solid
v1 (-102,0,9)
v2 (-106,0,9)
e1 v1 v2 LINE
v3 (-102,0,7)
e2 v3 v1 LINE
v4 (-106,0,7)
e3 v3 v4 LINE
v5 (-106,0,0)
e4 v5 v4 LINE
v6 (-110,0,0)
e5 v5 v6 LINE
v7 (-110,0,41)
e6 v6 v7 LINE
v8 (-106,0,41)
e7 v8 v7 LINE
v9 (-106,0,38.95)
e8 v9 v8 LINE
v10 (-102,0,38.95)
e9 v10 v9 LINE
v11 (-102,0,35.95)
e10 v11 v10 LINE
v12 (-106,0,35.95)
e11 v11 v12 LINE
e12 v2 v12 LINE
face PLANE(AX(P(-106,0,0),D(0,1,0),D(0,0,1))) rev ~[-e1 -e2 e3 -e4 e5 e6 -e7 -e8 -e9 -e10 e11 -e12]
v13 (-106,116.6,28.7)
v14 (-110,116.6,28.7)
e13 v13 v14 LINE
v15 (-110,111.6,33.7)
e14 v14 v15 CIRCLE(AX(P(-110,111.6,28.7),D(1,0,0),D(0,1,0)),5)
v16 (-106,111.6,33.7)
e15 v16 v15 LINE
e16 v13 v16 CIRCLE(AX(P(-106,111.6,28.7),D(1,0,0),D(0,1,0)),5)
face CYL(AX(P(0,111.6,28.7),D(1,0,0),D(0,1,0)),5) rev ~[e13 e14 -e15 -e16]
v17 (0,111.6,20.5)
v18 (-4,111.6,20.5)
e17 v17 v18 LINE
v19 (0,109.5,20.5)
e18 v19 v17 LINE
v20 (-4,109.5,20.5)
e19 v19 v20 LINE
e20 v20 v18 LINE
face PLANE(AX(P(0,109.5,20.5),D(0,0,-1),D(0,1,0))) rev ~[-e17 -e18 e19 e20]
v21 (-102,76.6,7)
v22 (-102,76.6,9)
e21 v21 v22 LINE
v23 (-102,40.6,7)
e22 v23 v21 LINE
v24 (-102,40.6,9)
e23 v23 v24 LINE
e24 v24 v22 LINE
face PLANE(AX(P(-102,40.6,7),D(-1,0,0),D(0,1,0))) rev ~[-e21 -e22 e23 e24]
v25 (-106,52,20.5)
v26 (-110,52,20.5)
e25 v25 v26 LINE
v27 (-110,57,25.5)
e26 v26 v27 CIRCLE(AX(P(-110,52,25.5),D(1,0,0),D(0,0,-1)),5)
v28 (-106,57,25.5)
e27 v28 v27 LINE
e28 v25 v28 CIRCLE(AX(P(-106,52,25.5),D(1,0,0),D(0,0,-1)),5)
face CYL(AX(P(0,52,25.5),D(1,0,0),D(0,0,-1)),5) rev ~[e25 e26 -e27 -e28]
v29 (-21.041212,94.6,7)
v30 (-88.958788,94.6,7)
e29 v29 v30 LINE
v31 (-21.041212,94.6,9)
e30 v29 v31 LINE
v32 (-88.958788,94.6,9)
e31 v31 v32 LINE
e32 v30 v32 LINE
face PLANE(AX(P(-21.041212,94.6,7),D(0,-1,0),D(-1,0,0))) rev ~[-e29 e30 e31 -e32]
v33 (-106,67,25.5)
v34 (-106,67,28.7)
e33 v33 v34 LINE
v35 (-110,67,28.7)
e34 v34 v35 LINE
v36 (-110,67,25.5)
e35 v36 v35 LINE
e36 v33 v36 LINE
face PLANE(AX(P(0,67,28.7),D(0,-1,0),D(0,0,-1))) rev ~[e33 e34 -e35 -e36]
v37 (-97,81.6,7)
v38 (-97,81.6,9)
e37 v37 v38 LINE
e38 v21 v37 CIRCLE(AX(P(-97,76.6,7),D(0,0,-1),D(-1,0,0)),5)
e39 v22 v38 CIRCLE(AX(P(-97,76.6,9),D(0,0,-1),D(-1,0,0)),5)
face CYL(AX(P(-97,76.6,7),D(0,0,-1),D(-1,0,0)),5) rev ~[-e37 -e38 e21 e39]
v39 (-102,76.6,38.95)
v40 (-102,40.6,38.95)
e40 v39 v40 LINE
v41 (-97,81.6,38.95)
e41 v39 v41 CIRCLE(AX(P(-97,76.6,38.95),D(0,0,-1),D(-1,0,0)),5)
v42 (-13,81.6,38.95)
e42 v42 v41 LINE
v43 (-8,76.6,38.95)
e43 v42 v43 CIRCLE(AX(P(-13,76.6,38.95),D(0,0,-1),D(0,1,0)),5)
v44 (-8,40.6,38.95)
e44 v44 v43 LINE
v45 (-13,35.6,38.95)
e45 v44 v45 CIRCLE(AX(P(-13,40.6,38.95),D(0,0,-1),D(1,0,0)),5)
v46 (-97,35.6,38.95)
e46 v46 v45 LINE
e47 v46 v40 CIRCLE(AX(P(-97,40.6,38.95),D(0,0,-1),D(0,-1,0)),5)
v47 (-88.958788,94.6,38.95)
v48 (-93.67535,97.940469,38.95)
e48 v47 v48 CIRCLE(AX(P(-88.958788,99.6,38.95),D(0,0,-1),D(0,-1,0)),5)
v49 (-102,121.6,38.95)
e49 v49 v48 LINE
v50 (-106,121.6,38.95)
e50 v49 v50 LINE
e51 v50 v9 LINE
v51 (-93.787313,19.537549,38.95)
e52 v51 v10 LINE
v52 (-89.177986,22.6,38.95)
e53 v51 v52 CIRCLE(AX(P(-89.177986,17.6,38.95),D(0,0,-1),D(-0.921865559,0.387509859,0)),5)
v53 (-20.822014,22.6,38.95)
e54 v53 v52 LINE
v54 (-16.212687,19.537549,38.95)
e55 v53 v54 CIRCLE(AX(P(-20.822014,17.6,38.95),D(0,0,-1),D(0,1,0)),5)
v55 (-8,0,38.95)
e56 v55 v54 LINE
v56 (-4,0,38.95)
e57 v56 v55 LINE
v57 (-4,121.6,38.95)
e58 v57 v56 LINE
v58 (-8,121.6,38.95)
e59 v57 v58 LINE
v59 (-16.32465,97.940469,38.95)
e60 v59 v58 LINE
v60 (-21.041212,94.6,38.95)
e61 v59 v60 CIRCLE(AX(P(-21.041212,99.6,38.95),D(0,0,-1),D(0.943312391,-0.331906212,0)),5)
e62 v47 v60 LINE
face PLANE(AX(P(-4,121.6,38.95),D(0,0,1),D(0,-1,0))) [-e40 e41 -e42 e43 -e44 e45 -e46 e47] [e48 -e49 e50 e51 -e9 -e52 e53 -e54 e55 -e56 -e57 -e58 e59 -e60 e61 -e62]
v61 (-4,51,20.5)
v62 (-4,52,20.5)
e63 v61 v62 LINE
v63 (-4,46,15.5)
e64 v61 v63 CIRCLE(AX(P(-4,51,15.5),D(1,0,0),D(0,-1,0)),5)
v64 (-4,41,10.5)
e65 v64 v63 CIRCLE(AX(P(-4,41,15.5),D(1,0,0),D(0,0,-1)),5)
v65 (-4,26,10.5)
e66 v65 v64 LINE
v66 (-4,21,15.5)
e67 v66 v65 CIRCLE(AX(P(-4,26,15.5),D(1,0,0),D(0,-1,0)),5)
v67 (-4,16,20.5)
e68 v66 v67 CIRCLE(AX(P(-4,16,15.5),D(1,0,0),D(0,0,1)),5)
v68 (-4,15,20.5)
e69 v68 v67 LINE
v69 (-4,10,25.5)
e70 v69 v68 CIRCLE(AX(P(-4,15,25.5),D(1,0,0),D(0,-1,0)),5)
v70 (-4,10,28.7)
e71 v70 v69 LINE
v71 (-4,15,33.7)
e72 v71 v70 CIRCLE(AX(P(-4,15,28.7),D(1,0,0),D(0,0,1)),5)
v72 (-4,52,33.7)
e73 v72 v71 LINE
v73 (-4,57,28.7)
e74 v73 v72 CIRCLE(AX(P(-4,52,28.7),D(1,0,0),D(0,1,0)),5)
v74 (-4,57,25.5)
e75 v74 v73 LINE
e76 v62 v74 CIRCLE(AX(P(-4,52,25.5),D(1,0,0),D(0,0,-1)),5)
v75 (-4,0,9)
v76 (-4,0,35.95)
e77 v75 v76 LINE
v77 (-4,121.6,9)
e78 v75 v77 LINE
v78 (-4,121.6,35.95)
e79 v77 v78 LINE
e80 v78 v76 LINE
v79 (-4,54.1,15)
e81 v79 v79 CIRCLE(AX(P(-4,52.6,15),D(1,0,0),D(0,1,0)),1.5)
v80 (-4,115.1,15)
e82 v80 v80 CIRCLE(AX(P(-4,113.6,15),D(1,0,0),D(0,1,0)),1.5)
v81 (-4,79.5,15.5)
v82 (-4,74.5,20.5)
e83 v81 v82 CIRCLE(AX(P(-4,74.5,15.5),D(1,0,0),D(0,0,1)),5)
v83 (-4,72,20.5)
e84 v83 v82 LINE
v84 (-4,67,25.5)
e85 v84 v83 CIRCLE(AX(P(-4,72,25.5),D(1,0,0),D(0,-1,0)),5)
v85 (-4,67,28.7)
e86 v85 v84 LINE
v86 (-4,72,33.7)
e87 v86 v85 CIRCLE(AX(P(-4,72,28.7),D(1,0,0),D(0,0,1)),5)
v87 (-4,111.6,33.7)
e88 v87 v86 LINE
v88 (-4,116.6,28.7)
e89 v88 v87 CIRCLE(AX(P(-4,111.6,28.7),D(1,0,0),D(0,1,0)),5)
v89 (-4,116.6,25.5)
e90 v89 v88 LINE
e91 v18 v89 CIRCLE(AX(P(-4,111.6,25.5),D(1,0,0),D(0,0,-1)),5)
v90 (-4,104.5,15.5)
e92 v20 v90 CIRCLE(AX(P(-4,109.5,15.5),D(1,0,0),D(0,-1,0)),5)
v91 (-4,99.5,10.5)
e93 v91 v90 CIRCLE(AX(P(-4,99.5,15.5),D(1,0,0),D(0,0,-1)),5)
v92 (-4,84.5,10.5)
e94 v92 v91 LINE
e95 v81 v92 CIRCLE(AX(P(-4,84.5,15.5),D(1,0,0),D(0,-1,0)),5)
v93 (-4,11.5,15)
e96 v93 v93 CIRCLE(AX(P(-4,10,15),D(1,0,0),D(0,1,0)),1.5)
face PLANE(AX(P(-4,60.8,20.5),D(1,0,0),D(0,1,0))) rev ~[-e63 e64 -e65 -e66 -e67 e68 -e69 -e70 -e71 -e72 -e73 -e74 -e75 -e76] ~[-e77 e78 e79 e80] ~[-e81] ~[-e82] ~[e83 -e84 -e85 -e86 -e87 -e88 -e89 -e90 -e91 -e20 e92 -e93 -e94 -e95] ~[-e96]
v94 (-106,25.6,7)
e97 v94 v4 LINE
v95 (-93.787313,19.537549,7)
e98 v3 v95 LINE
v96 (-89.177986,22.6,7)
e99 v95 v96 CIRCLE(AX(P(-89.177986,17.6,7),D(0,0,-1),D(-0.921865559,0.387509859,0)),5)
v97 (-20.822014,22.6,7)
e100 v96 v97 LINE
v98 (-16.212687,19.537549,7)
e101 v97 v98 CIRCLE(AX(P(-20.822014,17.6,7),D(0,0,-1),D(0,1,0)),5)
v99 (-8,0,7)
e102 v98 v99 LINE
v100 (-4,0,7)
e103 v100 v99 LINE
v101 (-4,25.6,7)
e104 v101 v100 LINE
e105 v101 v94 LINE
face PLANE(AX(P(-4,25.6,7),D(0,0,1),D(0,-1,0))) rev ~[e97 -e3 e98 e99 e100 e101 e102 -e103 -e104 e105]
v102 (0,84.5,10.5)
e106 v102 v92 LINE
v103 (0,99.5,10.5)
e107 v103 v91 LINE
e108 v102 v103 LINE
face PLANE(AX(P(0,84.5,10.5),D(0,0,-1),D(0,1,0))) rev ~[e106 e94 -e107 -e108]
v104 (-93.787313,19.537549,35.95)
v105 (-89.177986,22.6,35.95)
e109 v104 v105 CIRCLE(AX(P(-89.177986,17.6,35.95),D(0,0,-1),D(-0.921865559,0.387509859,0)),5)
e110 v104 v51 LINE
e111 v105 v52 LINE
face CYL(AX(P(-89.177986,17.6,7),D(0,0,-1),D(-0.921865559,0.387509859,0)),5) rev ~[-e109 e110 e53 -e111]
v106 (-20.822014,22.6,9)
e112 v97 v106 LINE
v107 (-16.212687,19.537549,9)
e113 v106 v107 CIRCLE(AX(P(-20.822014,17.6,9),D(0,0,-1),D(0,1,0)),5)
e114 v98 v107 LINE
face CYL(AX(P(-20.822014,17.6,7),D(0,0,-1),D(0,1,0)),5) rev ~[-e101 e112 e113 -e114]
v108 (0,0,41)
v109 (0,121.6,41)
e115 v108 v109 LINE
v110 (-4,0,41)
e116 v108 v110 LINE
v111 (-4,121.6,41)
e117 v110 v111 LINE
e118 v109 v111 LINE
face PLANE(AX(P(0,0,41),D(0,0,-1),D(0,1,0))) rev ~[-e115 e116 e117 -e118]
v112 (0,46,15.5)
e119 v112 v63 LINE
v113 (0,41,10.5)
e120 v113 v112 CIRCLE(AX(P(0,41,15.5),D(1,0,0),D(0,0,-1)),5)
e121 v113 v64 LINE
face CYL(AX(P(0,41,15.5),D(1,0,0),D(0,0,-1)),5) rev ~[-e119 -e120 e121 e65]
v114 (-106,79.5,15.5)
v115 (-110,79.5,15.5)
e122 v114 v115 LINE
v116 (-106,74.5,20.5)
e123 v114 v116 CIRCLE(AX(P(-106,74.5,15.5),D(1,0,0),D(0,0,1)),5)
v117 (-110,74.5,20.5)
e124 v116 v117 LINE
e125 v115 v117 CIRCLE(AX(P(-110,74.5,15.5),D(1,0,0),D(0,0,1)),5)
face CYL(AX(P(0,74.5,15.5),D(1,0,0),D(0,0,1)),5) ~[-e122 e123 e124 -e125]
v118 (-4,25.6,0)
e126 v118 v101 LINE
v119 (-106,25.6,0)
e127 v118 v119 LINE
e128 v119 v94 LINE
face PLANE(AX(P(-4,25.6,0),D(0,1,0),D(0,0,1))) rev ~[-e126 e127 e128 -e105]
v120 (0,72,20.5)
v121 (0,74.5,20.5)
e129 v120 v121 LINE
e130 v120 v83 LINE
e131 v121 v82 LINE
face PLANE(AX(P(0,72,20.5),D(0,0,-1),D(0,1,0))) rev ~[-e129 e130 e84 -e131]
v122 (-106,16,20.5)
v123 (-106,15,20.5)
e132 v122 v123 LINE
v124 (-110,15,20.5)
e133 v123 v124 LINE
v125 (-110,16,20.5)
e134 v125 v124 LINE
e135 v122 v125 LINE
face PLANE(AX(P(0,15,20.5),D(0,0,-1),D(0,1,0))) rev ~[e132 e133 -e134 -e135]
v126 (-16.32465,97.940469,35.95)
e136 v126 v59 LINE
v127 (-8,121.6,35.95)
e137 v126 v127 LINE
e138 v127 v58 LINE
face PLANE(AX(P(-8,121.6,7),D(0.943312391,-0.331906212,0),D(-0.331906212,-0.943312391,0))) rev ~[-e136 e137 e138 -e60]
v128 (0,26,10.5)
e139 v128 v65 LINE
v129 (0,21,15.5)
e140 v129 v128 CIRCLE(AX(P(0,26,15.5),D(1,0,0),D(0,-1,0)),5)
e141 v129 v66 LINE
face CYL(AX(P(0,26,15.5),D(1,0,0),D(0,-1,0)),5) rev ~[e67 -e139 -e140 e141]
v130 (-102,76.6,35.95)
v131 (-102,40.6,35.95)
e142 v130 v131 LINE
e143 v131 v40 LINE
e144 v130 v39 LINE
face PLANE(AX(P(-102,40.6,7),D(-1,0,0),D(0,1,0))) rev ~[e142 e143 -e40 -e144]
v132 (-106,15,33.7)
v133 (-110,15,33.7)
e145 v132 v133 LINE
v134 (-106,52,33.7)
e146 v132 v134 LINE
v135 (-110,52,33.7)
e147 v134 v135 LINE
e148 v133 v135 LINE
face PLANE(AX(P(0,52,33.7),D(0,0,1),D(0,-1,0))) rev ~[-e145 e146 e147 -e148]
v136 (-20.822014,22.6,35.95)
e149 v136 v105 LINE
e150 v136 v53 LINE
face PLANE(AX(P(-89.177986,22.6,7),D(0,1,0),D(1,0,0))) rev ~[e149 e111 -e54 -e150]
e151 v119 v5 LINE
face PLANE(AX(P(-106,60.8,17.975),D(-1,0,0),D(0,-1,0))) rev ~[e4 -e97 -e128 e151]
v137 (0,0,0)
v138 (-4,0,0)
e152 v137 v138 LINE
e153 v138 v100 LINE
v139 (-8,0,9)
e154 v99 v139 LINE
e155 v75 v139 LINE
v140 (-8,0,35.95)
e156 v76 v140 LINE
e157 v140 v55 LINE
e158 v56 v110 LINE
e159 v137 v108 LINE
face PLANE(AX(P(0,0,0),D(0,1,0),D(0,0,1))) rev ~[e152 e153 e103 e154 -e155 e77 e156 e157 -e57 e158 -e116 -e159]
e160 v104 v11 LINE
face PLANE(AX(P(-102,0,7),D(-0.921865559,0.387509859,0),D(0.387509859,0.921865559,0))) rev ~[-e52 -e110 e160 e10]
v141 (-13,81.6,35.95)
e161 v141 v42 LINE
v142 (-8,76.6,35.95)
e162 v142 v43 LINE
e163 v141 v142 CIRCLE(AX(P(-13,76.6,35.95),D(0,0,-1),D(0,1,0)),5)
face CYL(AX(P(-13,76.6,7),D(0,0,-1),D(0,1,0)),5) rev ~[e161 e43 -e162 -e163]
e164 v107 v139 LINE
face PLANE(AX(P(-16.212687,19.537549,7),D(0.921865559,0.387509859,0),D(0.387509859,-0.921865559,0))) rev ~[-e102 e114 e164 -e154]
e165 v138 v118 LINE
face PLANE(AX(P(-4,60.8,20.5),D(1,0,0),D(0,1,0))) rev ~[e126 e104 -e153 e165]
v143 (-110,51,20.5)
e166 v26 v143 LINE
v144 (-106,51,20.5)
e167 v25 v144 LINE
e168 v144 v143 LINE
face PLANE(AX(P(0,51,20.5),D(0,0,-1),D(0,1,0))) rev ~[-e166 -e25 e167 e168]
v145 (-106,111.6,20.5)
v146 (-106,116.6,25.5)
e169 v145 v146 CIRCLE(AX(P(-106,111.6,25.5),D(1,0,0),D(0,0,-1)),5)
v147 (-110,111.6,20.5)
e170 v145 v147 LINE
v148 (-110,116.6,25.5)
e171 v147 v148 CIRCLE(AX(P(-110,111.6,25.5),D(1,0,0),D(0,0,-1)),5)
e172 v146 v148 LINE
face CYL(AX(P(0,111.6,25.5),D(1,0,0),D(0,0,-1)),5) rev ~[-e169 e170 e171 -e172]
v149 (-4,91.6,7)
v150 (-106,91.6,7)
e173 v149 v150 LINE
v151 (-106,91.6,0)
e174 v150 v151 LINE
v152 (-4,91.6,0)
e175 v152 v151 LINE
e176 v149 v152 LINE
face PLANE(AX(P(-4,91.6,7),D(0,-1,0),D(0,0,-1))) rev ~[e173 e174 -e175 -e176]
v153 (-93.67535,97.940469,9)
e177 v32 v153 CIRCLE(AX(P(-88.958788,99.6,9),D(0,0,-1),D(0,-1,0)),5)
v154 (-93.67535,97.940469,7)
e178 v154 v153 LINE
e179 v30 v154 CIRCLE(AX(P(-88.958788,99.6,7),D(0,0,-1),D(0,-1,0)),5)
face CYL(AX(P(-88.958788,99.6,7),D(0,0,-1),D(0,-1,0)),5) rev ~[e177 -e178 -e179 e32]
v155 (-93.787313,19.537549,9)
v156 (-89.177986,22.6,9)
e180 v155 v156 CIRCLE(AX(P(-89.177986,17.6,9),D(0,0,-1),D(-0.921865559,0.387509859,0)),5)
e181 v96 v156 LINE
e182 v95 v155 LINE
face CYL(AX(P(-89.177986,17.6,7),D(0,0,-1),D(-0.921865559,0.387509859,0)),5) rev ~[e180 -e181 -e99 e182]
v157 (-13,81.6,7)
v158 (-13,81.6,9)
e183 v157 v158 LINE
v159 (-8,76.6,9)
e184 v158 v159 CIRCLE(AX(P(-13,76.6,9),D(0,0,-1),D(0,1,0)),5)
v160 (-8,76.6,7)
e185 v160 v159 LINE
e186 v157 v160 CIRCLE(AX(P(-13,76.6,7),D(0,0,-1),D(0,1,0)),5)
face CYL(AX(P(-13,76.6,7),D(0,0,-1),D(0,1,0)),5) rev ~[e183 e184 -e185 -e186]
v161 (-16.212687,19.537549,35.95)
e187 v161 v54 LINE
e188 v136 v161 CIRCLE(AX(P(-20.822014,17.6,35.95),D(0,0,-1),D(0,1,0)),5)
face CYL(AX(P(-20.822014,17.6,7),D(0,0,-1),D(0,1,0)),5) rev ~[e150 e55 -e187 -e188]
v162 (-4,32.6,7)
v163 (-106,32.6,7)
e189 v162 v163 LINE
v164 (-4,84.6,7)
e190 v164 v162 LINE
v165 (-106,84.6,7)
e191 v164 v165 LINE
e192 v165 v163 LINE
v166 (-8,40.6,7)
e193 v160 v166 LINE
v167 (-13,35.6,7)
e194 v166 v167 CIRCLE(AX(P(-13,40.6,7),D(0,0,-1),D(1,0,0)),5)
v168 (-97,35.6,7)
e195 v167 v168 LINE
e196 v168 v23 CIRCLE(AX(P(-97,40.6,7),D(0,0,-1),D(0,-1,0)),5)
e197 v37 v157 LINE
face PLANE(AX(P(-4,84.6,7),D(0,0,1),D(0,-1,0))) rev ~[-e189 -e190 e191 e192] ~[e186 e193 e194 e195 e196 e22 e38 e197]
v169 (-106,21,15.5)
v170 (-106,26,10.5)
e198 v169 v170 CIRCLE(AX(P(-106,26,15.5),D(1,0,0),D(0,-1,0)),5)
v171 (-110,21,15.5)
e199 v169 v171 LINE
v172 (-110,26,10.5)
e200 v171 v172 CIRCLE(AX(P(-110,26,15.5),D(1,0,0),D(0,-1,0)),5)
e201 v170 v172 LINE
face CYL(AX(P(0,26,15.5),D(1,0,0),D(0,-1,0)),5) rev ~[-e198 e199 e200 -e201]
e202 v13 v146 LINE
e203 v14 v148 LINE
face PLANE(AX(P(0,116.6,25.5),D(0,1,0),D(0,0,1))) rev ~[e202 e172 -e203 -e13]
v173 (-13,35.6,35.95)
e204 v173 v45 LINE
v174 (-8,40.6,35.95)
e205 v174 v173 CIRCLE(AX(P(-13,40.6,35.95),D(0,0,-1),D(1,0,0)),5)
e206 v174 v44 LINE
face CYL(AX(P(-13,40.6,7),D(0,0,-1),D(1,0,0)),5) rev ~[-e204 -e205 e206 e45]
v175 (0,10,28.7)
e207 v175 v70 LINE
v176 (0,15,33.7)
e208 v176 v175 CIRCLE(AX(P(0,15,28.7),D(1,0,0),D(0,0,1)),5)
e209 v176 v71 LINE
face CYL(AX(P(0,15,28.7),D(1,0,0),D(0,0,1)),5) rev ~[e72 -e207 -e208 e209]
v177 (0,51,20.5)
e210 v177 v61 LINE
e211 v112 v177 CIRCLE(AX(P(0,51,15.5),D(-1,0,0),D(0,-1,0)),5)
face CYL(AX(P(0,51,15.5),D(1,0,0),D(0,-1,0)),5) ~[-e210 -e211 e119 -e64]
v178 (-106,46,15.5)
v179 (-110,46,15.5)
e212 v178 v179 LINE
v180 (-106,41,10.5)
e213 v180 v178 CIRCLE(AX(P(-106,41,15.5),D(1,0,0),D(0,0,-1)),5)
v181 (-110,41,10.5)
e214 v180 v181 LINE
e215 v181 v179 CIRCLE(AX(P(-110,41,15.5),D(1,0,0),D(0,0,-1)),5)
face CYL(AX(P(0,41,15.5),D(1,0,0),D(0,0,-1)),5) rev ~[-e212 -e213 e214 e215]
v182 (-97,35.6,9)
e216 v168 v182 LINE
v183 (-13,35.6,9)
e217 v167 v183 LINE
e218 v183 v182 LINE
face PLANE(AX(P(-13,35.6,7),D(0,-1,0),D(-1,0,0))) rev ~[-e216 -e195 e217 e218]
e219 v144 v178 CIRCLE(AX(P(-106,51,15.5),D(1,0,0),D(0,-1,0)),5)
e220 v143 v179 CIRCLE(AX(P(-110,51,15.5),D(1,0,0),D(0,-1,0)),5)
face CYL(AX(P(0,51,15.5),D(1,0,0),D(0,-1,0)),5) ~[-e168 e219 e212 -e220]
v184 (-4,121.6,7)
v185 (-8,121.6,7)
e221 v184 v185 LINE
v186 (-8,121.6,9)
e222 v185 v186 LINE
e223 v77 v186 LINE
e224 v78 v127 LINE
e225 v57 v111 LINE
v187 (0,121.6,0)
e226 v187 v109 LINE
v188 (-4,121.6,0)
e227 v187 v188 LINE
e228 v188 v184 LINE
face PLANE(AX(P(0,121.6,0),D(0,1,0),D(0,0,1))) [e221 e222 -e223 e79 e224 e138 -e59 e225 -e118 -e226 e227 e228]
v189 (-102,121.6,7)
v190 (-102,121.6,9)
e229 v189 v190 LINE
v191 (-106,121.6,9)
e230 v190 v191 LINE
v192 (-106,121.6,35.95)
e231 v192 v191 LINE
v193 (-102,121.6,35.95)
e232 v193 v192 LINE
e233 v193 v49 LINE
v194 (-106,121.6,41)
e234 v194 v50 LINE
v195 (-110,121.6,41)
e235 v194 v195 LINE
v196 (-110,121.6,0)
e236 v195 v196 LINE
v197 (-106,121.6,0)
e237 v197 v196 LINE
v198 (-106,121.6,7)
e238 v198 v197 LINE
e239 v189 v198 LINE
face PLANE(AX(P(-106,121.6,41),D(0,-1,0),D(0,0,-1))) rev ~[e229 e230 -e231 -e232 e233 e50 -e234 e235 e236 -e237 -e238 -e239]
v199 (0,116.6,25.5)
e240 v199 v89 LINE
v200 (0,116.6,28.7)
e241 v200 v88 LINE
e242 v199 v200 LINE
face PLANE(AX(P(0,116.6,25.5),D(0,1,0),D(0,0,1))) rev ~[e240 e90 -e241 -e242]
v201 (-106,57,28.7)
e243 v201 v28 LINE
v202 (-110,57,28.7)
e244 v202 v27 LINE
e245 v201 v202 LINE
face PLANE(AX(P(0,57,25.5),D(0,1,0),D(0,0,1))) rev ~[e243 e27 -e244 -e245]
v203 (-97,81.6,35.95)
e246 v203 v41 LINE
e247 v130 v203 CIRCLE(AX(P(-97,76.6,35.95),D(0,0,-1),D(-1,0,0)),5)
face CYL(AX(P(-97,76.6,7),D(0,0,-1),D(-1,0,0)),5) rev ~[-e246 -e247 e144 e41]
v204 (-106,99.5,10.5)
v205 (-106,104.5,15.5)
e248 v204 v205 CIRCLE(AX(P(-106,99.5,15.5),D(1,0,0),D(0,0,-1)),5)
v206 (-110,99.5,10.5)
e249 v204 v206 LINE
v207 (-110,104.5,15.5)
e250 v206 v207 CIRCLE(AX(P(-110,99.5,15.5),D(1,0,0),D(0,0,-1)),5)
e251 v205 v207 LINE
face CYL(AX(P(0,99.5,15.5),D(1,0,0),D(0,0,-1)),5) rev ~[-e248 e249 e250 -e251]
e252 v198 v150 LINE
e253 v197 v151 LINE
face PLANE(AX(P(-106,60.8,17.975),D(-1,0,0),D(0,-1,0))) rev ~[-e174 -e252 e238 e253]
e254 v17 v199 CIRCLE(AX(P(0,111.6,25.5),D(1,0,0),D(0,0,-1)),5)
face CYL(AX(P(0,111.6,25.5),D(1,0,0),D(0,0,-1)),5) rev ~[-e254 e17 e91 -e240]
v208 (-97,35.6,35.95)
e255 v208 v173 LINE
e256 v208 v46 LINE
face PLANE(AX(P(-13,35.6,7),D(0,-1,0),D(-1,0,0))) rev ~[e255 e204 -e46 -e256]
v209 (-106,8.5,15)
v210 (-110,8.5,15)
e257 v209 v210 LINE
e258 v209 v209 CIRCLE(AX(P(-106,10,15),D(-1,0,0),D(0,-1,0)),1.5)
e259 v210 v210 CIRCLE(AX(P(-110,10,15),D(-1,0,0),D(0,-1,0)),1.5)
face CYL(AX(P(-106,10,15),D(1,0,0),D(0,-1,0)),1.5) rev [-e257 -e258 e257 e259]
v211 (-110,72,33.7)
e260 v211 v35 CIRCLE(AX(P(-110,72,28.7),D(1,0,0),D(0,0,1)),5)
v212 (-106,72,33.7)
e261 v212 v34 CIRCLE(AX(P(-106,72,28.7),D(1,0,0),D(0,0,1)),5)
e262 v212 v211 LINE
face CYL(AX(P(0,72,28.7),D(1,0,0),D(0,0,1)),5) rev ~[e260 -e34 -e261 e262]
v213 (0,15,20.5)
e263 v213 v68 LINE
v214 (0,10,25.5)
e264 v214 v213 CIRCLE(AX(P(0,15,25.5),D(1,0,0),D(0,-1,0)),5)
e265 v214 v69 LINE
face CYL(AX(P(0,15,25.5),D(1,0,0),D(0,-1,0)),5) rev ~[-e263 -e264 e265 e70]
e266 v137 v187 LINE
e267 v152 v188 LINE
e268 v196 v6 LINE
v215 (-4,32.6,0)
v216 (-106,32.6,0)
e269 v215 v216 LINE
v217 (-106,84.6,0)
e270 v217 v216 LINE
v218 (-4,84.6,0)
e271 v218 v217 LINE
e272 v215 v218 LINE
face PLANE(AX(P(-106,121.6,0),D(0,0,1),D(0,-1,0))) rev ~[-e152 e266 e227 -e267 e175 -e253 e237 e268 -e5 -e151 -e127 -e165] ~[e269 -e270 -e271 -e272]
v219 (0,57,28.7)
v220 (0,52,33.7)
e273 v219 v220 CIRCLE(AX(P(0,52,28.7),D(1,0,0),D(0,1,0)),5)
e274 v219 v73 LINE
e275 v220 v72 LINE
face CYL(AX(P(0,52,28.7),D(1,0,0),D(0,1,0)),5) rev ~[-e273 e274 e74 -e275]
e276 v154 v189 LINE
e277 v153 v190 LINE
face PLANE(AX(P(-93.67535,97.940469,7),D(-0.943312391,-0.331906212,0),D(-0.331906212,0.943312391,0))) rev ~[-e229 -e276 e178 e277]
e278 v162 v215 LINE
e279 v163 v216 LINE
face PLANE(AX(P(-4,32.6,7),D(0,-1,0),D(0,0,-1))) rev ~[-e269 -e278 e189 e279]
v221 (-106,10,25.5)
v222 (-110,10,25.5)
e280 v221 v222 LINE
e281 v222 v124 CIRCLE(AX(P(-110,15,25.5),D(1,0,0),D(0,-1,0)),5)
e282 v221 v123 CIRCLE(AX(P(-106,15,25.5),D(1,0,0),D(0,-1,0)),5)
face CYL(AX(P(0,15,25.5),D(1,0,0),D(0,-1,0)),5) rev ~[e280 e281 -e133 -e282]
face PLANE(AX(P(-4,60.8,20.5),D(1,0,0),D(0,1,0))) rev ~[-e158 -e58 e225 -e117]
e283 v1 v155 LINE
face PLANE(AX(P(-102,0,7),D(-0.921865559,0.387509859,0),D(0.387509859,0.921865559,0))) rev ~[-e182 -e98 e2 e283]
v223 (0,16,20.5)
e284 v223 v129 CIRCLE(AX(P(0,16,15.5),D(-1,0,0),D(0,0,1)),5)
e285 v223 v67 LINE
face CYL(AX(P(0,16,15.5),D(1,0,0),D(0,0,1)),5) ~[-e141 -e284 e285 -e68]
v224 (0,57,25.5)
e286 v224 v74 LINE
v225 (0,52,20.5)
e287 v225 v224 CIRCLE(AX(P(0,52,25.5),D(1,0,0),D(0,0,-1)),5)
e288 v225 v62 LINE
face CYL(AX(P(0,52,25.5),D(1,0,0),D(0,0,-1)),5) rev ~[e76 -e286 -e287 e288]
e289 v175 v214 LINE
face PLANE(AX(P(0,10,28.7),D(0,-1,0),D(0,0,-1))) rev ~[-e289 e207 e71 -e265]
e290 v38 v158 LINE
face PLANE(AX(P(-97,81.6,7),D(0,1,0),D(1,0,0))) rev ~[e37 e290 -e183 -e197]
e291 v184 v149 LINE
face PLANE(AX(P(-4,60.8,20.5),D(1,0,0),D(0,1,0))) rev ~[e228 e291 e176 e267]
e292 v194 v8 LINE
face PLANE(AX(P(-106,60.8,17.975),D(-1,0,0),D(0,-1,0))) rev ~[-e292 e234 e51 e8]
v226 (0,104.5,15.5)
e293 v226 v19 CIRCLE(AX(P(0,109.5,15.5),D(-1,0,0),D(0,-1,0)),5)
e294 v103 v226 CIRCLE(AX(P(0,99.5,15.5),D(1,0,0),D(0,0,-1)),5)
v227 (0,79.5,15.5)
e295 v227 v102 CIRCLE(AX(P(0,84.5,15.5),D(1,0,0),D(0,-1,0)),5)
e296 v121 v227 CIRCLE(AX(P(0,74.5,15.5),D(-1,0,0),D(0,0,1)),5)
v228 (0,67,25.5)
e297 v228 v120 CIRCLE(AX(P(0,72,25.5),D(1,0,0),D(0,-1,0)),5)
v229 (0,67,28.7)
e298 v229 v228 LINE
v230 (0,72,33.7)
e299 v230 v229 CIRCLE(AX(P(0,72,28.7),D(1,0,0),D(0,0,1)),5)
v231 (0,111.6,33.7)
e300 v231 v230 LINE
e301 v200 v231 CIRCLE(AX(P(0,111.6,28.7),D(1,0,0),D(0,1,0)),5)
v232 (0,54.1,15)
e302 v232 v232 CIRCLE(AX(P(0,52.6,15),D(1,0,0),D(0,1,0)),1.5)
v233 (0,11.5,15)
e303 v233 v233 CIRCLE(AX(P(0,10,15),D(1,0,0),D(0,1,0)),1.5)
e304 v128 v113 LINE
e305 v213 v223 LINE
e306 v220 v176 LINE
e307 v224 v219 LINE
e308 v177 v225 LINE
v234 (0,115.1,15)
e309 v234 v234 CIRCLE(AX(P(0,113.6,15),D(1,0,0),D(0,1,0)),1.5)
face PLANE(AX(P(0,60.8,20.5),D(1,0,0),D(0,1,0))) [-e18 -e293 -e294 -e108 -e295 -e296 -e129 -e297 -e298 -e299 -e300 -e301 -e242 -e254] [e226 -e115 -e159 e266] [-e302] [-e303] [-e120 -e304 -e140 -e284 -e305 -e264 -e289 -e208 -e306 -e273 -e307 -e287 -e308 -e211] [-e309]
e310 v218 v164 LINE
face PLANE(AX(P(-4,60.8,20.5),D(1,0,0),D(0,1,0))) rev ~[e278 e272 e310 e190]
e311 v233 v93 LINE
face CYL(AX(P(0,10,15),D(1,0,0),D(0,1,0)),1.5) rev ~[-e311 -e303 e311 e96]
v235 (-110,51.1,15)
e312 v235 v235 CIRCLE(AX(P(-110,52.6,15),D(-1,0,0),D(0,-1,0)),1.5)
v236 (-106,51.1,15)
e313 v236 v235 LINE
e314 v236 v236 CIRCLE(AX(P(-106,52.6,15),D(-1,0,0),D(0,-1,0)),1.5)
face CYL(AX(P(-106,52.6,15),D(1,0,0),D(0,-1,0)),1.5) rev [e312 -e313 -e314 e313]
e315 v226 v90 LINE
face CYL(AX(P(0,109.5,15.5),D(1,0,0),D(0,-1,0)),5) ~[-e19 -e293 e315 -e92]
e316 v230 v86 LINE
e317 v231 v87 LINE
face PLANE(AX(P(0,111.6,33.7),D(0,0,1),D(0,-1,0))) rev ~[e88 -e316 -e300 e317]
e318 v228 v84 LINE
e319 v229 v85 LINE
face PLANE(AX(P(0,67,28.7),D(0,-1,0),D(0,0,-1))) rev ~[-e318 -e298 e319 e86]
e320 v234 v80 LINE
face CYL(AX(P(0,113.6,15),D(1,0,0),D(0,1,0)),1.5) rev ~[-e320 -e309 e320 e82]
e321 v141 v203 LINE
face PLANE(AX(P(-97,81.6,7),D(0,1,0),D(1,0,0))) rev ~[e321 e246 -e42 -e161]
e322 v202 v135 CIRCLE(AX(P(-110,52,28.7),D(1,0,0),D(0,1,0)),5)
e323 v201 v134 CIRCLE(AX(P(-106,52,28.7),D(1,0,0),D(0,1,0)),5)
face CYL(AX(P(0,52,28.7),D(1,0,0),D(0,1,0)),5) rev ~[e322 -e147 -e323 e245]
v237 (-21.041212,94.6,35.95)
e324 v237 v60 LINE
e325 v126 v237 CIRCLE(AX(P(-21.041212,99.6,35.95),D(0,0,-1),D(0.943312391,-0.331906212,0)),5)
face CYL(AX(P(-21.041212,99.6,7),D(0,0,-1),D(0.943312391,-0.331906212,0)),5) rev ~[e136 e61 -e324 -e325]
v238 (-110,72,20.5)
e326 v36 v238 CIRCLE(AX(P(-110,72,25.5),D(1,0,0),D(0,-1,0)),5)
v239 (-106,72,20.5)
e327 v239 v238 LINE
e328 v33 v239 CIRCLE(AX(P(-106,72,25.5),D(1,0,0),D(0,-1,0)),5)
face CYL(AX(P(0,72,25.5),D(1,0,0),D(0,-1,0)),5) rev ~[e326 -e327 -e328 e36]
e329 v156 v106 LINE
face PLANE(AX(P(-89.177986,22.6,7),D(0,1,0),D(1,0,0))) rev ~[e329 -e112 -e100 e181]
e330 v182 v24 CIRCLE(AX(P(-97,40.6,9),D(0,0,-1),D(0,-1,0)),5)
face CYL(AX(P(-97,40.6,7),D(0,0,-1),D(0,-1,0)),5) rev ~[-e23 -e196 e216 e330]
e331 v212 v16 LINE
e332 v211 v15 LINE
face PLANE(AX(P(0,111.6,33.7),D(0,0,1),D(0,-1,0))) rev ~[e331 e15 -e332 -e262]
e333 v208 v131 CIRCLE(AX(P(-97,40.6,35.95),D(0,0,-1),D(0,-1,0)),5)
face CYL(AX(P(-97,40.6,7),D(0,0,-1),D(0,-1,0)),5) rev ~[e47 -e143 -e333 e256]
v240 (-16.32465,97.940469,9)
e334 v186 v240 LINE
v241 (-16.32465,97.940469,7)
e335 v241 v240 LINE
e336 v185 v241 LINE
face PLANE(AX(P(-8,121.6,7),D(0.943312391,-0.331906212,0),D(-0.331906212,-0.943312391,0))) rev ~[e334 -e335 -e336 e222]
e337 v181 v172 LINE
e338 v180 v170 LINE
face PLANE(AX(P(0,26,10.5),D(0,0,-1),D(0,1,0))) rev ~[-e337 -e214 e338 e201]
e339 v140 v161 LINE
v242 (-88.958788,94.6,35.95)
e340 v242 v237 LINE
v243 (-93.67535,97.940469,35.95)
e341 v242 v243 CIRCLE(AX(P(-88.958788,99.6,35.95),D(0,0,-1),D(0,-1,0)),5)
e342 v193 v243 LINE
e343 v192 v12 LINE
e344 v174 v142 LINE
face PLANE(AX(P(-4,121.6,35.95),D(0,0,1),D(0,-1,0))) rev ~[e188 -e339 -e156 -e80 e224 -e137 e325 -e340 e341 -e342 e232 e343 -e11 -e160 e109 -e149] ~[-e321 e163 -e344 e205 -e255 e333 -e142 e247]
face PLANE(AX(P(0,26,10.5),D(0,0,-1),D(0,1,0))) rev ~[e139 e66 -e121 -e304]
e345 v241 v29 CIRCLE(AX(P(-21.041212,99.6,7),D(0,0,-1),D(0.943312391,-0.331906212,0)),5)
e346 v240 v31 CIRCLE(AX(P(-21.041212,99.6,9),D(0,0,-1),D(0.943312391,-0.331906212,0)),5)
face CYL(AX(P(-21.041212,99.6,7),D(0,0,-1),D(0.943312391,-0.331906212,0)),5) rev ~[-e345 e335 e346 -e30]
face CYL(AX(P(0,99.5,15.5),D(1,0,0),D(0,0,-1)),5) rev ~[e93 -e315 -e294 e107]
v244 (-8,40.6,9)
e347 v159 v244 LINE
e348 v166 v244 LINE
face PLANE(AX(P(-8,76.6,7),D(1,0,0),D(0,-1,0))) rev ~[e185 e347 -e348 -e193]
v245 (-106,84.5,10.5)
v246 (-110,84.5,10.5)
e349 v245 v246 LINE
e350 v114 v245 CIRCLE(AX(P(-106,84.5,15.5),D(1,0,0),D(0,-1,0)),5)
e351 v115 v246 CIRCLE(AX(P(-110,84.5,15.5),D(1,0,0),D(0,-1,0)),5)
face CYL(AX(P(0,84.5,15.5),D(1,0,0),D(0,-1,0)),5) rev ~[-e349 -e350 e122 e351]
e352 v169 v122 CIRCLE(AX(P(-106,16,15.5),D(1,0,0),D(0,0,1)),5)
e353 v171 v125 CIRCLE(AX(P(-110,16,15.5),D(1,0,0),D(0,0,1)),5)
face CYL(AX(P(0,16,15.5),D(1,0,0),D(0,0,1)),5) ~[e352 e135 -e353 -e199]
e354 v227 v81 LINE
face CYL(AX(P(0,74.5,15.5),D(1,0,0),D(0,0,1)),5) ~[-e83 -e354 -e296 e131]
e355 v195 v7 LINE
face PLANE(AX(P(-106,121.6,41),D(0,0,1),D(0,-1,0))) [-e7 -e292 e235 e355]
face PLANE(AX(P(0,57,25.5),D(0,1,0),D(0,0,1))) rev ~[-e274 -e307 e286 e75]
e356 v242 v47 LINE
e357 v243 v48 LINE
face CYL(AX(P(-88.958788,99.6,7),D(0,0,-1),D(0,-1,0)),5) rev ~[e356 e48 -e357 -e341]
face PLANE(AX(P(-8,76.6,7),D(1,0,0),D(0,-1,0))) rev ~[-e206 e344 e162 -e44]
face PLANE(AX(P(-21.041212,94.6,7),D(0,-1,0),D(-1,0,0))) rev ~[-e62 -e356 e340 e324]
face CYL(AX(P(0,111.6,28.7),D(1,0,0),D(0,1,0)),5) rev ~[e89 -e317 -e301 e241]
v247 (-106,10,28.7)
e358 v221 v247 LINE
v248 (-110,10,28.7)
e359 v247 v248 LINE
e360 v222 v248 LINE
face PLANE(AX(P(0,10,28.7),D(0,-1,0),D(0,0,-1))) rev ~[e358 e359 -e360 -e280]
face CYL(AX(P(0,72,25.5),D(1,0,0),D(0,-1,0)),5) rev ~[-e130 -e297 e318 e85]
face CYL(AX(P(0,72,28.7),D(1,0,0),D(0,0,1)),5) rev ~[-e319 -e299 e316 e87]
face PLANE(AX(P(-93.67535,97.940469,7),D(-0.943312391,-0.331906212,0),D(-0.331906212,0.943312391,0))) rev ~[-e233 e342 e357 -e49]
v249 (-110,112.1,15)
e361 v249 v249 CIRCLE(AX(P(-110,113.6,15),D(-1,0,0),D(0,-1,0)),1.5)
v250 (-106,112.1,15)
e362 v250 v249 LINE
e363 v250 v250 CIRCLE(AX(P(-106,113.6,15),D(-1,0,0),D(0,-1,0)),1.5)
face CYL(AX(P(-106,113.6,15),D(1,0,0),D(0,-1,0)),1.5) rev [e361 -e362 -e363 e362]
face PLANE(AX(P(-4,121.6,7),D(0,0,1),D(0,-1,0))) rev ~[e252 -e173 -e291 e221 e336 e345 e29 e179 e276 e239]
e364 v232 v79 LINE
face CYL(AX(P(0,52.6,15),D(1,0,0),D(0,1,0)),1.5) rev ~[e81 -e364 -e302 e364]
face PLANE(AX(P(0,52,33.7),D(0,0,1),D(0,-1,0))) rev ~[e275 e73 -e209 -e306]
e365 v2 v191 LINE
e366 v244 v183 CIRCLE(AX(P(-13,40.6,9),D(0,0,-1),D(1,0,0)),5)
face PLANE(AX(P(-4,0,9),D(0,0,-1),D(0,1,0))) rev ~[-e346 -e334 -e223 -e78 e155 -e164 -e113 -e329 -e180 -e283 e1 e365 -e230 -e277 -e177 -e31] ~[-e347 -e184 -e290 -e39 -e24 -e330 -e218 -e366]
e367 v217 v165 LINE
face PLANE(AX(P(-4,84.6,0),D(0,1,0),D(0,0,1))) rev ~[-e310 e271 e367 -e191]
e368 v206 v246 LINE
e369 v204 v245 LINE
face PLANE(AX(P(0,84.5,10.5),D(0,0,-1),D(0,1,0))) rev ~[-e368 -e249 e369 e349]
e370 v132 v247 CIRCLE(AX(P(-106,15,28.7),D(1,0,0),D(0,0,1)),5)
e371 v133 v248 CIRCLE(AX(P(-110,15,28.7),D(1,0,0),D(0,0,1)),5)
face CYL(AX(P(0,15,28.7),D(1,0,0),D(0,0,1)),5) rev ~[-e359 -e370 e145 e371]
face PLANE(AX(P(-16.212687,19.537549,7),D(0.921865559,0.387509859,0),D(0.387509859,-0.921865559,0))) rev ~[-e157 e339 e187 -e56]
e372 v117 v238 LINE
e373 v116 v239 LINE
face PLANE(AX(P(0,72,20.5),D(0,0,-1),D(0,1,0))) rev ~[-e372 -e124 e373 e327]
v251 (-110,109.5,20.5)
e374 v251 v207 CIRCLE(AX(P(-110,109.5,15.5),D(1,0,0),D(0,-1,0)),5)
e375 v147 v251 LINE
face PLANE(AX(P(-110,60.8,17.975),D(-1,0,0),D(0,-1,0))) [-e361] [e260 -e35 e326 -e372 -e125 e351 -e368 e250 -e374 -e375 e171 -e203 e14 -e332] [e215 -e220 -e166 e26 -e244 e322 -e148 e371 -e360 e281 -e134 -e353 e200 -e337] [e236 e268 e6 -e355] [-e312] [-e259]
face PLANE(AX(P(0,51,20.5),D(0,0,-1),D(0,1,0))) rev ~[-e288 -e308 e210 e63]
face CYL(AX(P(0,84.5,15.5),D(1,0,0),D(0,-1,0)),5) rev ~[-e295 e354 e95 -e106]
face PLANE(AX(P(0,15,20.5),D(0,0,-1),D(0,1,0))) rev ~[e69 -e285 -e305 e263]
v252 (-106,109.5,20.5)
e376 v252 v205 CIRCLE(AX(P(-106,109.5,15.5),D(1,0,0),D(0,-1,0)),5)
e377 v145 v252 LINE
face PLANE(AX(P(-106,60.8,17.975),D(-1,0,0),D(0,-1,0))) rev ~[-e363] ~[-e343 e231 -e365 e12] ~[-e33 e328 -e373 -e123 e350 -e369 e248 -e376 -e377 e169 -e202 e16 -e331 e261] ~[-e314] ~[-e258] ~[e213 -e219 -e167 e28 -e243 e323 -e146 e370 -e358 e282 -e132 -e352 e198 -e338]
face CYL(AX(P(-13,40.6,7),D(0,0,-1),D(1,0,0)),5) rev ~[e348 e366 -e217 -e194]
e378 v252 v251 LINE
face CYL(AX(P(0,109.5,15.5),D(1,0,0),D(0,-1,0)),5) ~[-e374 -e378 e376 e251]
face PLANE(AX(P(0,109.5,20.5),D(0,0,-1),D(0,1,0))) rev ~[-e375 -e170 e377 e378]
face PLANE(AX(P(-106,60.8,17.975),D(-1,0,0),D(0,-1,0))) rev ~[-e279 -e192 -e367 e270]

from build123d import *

# Parameters (mm, degrees)
F0_W     = 121.6
F0_H     = 41
F0_R     = 1.5
F1_DEPTH = 4
F2_W     = 121.6
F2_H     = 3
F3_DEPTH = 102
F5_DEPTH = 34.001
F6_W     = 121.6
F6_H     = 35.95
F6_R     = 1.5
F6_H_2   = 2.05
F6_H_3   = 3
F7_DEPTH = 4
F9_DEPTH = 110.001


with BuildPart() as f1:
    # F0 (on Right) → F1 (new body)
    with BuildSketch(Plane.YZ):
        with Locations((60.8, 20.5)):
            Rectangle(F0_W, F0_H)
        with Locations((10, 15)):
            Circle(F0_R, mode=Mode.SUBTRACT)
        with Locations((52.6, 15)):
            Circle(F0_R, mode=Mode.SUBTRACT)
        with Locations((113.6, 15)):
            Circle(F0_R, mode=Mode.SUBTRACT)
    extrude(amount=-F1_DEPTH)

    # F2 (on face) → F3 (join)
    with BuildSketch(Plane(origin=(-4, 0, 0), x_dir=(0, -1, 0), z_dir=(-1, 0, 0))):
        Polygon((0, 7), (0, 9), (-121.6, 9), (-121.6, 7), (-91.6, 7), (-91.6, 0), (-84.6, 0), (-84.6, 7), (-32.6, 7), (-32.6, 0), (-25.6, 0), (-25.6, 7), align=None)
        with Locations((-60.8, 37.45)):
            Rectangle(F2_W, F2_H)
    extrude(amount=F3_DEPTH)

    # F4 (on face) → F5 (cut, through all)
    with BuildSketch(Plane(origin=(0, 0, 7), x_dir=(1, 0, 0), z_dir=(0, 0, -1))):
        with BuildLine():
            Line((-8, -76.6), (-8, -40.6))
            ThreePointArc((-8, -40.6), (-9.4644660941, -37.0644660941), (-13, -35.6))
            Line((-13, -35.6), (-97, -35.6))
            ThreePointArc((-97, -35.6), (-100.5355339059, -37.0644660941), (-102, -40.6))
            Line((-102, -40.6), (-102, -76.6))
            ThreePointArc((-102, -76.6), (-100.5355339059, -80.1355339059), (-97, -81.6))
            Line((-97, -81.6), (-13, -81.6))
            ThreePointArc((-13, -81.6), (-9.4644660941, -80.1355339059), (-8, -76.6))
        make_face()
        with BuildLine():
            Line((-8, 0), (-102, 0))
            Line((-102, 0), (-93.7873133496, -19.5375492948))
            ThreePointArc((-93.7873133496, -19.5375492948), (-91.9449562371, -21.764597608), (-89.1779855536, -22.6))
            Line((-89.1779855536, -22.6), (-20.8220144464, -22.6))
            ThreePointArc((-20.8220144464, -22.6), (-18.0550437629, -21.764597608), (-16.2126866504, -19.5375492948))
            Line((-16.2126866504, -19.5375492948), (-8, 0))
        make_face()
        with BuildLine():
            Line((-8, -121.6), (-16.3246498167, -97.940468942))
            ThreePointArc((-16.3246498167, -97.940468942), (-18.1513722675, -95.5197025053), (-21.0412117709, -94.6))
            Line((-21.0412117709, -94.6), (-88.9587882291, -94.6))
            ThreePointArc((-88.9587882291, -94.6), (-91.8486277325, -95.5197025053), (-93.6753501833, -97.940468942))
            Line((-93.6753501833, -97.940468942), (-102, -121.6))
            Line((-102, -121.6), (-8, -121.6))
        make_face()
    extrude(amount=-F5_DEPTH, mode=Mode.SUBTRACT)

    # F6 (on face) → F7 (join)
    with BuildSketch(Plane(origin=(-106, 0, 0), x_dir=(0, -1, 0), z_dir=(-1, 0, 0))):
        with Locations((-60.8, 17.975)):
            Rectangle(F6_W, F6_H)
        with Locations((-113.6, 15)):
            Circle(F6_R, mode=Mode.SUBTRACT)
        with Locations((-52.6, 15)):
            Circle(F6_R, mode=Mode.SUBTRACT)
        with Locations((-10, 15)):
            Circle(F6_R, mode=Mode.SUBTRACT)
        with Locations((-60.8, 39.975)):
            Rectangle(F6_W, F6_H_2)
        with Locations((-60.8, 37.45)):
            Rectangle(F6_W, F6_H_3)
    extrude(amount=F7_DEPTH)

    # F8 (on Right) → F9 (cut, through all)
    with BuildSketch(Plane.YZ):
        with BuildLine():
            Line((52, 33.7), (15, 33.7))
            ThreePointArc((15, 33.7), (11.4644660941, 32.2355339059), (10, 28.7))
            Line((10, 28.7), (10, 25.5))
            ThreePointArc((10, 25.5), (11.4644660941, 21.9644660941), (15, 20.5))
            Line((15, 20.5), (16, 20.5))
            ThreePointArc((16, 20.5), (19.5355339059, 19.0355339059), (21, 15.5))
            ThreePointArc((21, 15.5), (22.4644660941, 11.9644660941), (26, 10.5))
            Line((26, 10.5), (41, 10.5))
            ThreePointArc((41, 10.5), (44.5355339059, 11.9644660941), (46, 15.5))
            ThreePointArc((46, 15.5), (47.4644660941, 19.0355339059), (51, 20.5))
            Line((51, 20.5), (52, 20.5))
            ThreePointArc((52, 20.5), (55.5355339059, 21.9644660941), (57, 25.5))
            Line((57, 25.5), (57, 28.7))
            ThreePointArc((57, 28.7), (55.5355339059, 32.2355339059), (52, 33.7))
        make_face()
        with BuildLine():
            Line((111.6, 33.7), (72, 33.7))
            ThreePointArc((72, 33.7), (68.4644660941, 32.2355339059), (67, 28.7))
            Line((67, 28.7), (67, 25.5))
            ThreePointArc((67, 25.5), (68.4644660941, 21.9644660941), (72, 20.5))
            Line((72, 20.5), (74.5, 20.5))
            ThreePointArc((74.5, 20.5), (78.0355339059, 19.0355339059), (79.5, 15.5))
            ThreePointArc((79.5, 15.5), (80.9644660941, 11.9644660941), (84.5, 10.5))
            Line((84.5, 10.5), (99.5, 10.5))
            ThreePointArc((99.5, 10.5), (103.0355339059, 11.9644660941), (104.5, 15.5))
            ThreePointArc((104.5, 15.5), (105.9644660941, 19.0355339059), (109.5, 20.5))
            Line((109.5, 20.5), (111.6, 20.5))
            ThreePointArc((111.6, 20.5), (115.1355339059, 21.9644660941), (116.6, 25.5))
            Line((116.6, 25.5), (116.6, 28.7))
            ThreePointArc((116.6, 28.7), (115.1355339059, 32.2355339059), (111.6, 33.7))
        make_face()
    extrude(amount=-F9_DEPTH, mode=Mode.SUBTRACT)


solid = f1.part
